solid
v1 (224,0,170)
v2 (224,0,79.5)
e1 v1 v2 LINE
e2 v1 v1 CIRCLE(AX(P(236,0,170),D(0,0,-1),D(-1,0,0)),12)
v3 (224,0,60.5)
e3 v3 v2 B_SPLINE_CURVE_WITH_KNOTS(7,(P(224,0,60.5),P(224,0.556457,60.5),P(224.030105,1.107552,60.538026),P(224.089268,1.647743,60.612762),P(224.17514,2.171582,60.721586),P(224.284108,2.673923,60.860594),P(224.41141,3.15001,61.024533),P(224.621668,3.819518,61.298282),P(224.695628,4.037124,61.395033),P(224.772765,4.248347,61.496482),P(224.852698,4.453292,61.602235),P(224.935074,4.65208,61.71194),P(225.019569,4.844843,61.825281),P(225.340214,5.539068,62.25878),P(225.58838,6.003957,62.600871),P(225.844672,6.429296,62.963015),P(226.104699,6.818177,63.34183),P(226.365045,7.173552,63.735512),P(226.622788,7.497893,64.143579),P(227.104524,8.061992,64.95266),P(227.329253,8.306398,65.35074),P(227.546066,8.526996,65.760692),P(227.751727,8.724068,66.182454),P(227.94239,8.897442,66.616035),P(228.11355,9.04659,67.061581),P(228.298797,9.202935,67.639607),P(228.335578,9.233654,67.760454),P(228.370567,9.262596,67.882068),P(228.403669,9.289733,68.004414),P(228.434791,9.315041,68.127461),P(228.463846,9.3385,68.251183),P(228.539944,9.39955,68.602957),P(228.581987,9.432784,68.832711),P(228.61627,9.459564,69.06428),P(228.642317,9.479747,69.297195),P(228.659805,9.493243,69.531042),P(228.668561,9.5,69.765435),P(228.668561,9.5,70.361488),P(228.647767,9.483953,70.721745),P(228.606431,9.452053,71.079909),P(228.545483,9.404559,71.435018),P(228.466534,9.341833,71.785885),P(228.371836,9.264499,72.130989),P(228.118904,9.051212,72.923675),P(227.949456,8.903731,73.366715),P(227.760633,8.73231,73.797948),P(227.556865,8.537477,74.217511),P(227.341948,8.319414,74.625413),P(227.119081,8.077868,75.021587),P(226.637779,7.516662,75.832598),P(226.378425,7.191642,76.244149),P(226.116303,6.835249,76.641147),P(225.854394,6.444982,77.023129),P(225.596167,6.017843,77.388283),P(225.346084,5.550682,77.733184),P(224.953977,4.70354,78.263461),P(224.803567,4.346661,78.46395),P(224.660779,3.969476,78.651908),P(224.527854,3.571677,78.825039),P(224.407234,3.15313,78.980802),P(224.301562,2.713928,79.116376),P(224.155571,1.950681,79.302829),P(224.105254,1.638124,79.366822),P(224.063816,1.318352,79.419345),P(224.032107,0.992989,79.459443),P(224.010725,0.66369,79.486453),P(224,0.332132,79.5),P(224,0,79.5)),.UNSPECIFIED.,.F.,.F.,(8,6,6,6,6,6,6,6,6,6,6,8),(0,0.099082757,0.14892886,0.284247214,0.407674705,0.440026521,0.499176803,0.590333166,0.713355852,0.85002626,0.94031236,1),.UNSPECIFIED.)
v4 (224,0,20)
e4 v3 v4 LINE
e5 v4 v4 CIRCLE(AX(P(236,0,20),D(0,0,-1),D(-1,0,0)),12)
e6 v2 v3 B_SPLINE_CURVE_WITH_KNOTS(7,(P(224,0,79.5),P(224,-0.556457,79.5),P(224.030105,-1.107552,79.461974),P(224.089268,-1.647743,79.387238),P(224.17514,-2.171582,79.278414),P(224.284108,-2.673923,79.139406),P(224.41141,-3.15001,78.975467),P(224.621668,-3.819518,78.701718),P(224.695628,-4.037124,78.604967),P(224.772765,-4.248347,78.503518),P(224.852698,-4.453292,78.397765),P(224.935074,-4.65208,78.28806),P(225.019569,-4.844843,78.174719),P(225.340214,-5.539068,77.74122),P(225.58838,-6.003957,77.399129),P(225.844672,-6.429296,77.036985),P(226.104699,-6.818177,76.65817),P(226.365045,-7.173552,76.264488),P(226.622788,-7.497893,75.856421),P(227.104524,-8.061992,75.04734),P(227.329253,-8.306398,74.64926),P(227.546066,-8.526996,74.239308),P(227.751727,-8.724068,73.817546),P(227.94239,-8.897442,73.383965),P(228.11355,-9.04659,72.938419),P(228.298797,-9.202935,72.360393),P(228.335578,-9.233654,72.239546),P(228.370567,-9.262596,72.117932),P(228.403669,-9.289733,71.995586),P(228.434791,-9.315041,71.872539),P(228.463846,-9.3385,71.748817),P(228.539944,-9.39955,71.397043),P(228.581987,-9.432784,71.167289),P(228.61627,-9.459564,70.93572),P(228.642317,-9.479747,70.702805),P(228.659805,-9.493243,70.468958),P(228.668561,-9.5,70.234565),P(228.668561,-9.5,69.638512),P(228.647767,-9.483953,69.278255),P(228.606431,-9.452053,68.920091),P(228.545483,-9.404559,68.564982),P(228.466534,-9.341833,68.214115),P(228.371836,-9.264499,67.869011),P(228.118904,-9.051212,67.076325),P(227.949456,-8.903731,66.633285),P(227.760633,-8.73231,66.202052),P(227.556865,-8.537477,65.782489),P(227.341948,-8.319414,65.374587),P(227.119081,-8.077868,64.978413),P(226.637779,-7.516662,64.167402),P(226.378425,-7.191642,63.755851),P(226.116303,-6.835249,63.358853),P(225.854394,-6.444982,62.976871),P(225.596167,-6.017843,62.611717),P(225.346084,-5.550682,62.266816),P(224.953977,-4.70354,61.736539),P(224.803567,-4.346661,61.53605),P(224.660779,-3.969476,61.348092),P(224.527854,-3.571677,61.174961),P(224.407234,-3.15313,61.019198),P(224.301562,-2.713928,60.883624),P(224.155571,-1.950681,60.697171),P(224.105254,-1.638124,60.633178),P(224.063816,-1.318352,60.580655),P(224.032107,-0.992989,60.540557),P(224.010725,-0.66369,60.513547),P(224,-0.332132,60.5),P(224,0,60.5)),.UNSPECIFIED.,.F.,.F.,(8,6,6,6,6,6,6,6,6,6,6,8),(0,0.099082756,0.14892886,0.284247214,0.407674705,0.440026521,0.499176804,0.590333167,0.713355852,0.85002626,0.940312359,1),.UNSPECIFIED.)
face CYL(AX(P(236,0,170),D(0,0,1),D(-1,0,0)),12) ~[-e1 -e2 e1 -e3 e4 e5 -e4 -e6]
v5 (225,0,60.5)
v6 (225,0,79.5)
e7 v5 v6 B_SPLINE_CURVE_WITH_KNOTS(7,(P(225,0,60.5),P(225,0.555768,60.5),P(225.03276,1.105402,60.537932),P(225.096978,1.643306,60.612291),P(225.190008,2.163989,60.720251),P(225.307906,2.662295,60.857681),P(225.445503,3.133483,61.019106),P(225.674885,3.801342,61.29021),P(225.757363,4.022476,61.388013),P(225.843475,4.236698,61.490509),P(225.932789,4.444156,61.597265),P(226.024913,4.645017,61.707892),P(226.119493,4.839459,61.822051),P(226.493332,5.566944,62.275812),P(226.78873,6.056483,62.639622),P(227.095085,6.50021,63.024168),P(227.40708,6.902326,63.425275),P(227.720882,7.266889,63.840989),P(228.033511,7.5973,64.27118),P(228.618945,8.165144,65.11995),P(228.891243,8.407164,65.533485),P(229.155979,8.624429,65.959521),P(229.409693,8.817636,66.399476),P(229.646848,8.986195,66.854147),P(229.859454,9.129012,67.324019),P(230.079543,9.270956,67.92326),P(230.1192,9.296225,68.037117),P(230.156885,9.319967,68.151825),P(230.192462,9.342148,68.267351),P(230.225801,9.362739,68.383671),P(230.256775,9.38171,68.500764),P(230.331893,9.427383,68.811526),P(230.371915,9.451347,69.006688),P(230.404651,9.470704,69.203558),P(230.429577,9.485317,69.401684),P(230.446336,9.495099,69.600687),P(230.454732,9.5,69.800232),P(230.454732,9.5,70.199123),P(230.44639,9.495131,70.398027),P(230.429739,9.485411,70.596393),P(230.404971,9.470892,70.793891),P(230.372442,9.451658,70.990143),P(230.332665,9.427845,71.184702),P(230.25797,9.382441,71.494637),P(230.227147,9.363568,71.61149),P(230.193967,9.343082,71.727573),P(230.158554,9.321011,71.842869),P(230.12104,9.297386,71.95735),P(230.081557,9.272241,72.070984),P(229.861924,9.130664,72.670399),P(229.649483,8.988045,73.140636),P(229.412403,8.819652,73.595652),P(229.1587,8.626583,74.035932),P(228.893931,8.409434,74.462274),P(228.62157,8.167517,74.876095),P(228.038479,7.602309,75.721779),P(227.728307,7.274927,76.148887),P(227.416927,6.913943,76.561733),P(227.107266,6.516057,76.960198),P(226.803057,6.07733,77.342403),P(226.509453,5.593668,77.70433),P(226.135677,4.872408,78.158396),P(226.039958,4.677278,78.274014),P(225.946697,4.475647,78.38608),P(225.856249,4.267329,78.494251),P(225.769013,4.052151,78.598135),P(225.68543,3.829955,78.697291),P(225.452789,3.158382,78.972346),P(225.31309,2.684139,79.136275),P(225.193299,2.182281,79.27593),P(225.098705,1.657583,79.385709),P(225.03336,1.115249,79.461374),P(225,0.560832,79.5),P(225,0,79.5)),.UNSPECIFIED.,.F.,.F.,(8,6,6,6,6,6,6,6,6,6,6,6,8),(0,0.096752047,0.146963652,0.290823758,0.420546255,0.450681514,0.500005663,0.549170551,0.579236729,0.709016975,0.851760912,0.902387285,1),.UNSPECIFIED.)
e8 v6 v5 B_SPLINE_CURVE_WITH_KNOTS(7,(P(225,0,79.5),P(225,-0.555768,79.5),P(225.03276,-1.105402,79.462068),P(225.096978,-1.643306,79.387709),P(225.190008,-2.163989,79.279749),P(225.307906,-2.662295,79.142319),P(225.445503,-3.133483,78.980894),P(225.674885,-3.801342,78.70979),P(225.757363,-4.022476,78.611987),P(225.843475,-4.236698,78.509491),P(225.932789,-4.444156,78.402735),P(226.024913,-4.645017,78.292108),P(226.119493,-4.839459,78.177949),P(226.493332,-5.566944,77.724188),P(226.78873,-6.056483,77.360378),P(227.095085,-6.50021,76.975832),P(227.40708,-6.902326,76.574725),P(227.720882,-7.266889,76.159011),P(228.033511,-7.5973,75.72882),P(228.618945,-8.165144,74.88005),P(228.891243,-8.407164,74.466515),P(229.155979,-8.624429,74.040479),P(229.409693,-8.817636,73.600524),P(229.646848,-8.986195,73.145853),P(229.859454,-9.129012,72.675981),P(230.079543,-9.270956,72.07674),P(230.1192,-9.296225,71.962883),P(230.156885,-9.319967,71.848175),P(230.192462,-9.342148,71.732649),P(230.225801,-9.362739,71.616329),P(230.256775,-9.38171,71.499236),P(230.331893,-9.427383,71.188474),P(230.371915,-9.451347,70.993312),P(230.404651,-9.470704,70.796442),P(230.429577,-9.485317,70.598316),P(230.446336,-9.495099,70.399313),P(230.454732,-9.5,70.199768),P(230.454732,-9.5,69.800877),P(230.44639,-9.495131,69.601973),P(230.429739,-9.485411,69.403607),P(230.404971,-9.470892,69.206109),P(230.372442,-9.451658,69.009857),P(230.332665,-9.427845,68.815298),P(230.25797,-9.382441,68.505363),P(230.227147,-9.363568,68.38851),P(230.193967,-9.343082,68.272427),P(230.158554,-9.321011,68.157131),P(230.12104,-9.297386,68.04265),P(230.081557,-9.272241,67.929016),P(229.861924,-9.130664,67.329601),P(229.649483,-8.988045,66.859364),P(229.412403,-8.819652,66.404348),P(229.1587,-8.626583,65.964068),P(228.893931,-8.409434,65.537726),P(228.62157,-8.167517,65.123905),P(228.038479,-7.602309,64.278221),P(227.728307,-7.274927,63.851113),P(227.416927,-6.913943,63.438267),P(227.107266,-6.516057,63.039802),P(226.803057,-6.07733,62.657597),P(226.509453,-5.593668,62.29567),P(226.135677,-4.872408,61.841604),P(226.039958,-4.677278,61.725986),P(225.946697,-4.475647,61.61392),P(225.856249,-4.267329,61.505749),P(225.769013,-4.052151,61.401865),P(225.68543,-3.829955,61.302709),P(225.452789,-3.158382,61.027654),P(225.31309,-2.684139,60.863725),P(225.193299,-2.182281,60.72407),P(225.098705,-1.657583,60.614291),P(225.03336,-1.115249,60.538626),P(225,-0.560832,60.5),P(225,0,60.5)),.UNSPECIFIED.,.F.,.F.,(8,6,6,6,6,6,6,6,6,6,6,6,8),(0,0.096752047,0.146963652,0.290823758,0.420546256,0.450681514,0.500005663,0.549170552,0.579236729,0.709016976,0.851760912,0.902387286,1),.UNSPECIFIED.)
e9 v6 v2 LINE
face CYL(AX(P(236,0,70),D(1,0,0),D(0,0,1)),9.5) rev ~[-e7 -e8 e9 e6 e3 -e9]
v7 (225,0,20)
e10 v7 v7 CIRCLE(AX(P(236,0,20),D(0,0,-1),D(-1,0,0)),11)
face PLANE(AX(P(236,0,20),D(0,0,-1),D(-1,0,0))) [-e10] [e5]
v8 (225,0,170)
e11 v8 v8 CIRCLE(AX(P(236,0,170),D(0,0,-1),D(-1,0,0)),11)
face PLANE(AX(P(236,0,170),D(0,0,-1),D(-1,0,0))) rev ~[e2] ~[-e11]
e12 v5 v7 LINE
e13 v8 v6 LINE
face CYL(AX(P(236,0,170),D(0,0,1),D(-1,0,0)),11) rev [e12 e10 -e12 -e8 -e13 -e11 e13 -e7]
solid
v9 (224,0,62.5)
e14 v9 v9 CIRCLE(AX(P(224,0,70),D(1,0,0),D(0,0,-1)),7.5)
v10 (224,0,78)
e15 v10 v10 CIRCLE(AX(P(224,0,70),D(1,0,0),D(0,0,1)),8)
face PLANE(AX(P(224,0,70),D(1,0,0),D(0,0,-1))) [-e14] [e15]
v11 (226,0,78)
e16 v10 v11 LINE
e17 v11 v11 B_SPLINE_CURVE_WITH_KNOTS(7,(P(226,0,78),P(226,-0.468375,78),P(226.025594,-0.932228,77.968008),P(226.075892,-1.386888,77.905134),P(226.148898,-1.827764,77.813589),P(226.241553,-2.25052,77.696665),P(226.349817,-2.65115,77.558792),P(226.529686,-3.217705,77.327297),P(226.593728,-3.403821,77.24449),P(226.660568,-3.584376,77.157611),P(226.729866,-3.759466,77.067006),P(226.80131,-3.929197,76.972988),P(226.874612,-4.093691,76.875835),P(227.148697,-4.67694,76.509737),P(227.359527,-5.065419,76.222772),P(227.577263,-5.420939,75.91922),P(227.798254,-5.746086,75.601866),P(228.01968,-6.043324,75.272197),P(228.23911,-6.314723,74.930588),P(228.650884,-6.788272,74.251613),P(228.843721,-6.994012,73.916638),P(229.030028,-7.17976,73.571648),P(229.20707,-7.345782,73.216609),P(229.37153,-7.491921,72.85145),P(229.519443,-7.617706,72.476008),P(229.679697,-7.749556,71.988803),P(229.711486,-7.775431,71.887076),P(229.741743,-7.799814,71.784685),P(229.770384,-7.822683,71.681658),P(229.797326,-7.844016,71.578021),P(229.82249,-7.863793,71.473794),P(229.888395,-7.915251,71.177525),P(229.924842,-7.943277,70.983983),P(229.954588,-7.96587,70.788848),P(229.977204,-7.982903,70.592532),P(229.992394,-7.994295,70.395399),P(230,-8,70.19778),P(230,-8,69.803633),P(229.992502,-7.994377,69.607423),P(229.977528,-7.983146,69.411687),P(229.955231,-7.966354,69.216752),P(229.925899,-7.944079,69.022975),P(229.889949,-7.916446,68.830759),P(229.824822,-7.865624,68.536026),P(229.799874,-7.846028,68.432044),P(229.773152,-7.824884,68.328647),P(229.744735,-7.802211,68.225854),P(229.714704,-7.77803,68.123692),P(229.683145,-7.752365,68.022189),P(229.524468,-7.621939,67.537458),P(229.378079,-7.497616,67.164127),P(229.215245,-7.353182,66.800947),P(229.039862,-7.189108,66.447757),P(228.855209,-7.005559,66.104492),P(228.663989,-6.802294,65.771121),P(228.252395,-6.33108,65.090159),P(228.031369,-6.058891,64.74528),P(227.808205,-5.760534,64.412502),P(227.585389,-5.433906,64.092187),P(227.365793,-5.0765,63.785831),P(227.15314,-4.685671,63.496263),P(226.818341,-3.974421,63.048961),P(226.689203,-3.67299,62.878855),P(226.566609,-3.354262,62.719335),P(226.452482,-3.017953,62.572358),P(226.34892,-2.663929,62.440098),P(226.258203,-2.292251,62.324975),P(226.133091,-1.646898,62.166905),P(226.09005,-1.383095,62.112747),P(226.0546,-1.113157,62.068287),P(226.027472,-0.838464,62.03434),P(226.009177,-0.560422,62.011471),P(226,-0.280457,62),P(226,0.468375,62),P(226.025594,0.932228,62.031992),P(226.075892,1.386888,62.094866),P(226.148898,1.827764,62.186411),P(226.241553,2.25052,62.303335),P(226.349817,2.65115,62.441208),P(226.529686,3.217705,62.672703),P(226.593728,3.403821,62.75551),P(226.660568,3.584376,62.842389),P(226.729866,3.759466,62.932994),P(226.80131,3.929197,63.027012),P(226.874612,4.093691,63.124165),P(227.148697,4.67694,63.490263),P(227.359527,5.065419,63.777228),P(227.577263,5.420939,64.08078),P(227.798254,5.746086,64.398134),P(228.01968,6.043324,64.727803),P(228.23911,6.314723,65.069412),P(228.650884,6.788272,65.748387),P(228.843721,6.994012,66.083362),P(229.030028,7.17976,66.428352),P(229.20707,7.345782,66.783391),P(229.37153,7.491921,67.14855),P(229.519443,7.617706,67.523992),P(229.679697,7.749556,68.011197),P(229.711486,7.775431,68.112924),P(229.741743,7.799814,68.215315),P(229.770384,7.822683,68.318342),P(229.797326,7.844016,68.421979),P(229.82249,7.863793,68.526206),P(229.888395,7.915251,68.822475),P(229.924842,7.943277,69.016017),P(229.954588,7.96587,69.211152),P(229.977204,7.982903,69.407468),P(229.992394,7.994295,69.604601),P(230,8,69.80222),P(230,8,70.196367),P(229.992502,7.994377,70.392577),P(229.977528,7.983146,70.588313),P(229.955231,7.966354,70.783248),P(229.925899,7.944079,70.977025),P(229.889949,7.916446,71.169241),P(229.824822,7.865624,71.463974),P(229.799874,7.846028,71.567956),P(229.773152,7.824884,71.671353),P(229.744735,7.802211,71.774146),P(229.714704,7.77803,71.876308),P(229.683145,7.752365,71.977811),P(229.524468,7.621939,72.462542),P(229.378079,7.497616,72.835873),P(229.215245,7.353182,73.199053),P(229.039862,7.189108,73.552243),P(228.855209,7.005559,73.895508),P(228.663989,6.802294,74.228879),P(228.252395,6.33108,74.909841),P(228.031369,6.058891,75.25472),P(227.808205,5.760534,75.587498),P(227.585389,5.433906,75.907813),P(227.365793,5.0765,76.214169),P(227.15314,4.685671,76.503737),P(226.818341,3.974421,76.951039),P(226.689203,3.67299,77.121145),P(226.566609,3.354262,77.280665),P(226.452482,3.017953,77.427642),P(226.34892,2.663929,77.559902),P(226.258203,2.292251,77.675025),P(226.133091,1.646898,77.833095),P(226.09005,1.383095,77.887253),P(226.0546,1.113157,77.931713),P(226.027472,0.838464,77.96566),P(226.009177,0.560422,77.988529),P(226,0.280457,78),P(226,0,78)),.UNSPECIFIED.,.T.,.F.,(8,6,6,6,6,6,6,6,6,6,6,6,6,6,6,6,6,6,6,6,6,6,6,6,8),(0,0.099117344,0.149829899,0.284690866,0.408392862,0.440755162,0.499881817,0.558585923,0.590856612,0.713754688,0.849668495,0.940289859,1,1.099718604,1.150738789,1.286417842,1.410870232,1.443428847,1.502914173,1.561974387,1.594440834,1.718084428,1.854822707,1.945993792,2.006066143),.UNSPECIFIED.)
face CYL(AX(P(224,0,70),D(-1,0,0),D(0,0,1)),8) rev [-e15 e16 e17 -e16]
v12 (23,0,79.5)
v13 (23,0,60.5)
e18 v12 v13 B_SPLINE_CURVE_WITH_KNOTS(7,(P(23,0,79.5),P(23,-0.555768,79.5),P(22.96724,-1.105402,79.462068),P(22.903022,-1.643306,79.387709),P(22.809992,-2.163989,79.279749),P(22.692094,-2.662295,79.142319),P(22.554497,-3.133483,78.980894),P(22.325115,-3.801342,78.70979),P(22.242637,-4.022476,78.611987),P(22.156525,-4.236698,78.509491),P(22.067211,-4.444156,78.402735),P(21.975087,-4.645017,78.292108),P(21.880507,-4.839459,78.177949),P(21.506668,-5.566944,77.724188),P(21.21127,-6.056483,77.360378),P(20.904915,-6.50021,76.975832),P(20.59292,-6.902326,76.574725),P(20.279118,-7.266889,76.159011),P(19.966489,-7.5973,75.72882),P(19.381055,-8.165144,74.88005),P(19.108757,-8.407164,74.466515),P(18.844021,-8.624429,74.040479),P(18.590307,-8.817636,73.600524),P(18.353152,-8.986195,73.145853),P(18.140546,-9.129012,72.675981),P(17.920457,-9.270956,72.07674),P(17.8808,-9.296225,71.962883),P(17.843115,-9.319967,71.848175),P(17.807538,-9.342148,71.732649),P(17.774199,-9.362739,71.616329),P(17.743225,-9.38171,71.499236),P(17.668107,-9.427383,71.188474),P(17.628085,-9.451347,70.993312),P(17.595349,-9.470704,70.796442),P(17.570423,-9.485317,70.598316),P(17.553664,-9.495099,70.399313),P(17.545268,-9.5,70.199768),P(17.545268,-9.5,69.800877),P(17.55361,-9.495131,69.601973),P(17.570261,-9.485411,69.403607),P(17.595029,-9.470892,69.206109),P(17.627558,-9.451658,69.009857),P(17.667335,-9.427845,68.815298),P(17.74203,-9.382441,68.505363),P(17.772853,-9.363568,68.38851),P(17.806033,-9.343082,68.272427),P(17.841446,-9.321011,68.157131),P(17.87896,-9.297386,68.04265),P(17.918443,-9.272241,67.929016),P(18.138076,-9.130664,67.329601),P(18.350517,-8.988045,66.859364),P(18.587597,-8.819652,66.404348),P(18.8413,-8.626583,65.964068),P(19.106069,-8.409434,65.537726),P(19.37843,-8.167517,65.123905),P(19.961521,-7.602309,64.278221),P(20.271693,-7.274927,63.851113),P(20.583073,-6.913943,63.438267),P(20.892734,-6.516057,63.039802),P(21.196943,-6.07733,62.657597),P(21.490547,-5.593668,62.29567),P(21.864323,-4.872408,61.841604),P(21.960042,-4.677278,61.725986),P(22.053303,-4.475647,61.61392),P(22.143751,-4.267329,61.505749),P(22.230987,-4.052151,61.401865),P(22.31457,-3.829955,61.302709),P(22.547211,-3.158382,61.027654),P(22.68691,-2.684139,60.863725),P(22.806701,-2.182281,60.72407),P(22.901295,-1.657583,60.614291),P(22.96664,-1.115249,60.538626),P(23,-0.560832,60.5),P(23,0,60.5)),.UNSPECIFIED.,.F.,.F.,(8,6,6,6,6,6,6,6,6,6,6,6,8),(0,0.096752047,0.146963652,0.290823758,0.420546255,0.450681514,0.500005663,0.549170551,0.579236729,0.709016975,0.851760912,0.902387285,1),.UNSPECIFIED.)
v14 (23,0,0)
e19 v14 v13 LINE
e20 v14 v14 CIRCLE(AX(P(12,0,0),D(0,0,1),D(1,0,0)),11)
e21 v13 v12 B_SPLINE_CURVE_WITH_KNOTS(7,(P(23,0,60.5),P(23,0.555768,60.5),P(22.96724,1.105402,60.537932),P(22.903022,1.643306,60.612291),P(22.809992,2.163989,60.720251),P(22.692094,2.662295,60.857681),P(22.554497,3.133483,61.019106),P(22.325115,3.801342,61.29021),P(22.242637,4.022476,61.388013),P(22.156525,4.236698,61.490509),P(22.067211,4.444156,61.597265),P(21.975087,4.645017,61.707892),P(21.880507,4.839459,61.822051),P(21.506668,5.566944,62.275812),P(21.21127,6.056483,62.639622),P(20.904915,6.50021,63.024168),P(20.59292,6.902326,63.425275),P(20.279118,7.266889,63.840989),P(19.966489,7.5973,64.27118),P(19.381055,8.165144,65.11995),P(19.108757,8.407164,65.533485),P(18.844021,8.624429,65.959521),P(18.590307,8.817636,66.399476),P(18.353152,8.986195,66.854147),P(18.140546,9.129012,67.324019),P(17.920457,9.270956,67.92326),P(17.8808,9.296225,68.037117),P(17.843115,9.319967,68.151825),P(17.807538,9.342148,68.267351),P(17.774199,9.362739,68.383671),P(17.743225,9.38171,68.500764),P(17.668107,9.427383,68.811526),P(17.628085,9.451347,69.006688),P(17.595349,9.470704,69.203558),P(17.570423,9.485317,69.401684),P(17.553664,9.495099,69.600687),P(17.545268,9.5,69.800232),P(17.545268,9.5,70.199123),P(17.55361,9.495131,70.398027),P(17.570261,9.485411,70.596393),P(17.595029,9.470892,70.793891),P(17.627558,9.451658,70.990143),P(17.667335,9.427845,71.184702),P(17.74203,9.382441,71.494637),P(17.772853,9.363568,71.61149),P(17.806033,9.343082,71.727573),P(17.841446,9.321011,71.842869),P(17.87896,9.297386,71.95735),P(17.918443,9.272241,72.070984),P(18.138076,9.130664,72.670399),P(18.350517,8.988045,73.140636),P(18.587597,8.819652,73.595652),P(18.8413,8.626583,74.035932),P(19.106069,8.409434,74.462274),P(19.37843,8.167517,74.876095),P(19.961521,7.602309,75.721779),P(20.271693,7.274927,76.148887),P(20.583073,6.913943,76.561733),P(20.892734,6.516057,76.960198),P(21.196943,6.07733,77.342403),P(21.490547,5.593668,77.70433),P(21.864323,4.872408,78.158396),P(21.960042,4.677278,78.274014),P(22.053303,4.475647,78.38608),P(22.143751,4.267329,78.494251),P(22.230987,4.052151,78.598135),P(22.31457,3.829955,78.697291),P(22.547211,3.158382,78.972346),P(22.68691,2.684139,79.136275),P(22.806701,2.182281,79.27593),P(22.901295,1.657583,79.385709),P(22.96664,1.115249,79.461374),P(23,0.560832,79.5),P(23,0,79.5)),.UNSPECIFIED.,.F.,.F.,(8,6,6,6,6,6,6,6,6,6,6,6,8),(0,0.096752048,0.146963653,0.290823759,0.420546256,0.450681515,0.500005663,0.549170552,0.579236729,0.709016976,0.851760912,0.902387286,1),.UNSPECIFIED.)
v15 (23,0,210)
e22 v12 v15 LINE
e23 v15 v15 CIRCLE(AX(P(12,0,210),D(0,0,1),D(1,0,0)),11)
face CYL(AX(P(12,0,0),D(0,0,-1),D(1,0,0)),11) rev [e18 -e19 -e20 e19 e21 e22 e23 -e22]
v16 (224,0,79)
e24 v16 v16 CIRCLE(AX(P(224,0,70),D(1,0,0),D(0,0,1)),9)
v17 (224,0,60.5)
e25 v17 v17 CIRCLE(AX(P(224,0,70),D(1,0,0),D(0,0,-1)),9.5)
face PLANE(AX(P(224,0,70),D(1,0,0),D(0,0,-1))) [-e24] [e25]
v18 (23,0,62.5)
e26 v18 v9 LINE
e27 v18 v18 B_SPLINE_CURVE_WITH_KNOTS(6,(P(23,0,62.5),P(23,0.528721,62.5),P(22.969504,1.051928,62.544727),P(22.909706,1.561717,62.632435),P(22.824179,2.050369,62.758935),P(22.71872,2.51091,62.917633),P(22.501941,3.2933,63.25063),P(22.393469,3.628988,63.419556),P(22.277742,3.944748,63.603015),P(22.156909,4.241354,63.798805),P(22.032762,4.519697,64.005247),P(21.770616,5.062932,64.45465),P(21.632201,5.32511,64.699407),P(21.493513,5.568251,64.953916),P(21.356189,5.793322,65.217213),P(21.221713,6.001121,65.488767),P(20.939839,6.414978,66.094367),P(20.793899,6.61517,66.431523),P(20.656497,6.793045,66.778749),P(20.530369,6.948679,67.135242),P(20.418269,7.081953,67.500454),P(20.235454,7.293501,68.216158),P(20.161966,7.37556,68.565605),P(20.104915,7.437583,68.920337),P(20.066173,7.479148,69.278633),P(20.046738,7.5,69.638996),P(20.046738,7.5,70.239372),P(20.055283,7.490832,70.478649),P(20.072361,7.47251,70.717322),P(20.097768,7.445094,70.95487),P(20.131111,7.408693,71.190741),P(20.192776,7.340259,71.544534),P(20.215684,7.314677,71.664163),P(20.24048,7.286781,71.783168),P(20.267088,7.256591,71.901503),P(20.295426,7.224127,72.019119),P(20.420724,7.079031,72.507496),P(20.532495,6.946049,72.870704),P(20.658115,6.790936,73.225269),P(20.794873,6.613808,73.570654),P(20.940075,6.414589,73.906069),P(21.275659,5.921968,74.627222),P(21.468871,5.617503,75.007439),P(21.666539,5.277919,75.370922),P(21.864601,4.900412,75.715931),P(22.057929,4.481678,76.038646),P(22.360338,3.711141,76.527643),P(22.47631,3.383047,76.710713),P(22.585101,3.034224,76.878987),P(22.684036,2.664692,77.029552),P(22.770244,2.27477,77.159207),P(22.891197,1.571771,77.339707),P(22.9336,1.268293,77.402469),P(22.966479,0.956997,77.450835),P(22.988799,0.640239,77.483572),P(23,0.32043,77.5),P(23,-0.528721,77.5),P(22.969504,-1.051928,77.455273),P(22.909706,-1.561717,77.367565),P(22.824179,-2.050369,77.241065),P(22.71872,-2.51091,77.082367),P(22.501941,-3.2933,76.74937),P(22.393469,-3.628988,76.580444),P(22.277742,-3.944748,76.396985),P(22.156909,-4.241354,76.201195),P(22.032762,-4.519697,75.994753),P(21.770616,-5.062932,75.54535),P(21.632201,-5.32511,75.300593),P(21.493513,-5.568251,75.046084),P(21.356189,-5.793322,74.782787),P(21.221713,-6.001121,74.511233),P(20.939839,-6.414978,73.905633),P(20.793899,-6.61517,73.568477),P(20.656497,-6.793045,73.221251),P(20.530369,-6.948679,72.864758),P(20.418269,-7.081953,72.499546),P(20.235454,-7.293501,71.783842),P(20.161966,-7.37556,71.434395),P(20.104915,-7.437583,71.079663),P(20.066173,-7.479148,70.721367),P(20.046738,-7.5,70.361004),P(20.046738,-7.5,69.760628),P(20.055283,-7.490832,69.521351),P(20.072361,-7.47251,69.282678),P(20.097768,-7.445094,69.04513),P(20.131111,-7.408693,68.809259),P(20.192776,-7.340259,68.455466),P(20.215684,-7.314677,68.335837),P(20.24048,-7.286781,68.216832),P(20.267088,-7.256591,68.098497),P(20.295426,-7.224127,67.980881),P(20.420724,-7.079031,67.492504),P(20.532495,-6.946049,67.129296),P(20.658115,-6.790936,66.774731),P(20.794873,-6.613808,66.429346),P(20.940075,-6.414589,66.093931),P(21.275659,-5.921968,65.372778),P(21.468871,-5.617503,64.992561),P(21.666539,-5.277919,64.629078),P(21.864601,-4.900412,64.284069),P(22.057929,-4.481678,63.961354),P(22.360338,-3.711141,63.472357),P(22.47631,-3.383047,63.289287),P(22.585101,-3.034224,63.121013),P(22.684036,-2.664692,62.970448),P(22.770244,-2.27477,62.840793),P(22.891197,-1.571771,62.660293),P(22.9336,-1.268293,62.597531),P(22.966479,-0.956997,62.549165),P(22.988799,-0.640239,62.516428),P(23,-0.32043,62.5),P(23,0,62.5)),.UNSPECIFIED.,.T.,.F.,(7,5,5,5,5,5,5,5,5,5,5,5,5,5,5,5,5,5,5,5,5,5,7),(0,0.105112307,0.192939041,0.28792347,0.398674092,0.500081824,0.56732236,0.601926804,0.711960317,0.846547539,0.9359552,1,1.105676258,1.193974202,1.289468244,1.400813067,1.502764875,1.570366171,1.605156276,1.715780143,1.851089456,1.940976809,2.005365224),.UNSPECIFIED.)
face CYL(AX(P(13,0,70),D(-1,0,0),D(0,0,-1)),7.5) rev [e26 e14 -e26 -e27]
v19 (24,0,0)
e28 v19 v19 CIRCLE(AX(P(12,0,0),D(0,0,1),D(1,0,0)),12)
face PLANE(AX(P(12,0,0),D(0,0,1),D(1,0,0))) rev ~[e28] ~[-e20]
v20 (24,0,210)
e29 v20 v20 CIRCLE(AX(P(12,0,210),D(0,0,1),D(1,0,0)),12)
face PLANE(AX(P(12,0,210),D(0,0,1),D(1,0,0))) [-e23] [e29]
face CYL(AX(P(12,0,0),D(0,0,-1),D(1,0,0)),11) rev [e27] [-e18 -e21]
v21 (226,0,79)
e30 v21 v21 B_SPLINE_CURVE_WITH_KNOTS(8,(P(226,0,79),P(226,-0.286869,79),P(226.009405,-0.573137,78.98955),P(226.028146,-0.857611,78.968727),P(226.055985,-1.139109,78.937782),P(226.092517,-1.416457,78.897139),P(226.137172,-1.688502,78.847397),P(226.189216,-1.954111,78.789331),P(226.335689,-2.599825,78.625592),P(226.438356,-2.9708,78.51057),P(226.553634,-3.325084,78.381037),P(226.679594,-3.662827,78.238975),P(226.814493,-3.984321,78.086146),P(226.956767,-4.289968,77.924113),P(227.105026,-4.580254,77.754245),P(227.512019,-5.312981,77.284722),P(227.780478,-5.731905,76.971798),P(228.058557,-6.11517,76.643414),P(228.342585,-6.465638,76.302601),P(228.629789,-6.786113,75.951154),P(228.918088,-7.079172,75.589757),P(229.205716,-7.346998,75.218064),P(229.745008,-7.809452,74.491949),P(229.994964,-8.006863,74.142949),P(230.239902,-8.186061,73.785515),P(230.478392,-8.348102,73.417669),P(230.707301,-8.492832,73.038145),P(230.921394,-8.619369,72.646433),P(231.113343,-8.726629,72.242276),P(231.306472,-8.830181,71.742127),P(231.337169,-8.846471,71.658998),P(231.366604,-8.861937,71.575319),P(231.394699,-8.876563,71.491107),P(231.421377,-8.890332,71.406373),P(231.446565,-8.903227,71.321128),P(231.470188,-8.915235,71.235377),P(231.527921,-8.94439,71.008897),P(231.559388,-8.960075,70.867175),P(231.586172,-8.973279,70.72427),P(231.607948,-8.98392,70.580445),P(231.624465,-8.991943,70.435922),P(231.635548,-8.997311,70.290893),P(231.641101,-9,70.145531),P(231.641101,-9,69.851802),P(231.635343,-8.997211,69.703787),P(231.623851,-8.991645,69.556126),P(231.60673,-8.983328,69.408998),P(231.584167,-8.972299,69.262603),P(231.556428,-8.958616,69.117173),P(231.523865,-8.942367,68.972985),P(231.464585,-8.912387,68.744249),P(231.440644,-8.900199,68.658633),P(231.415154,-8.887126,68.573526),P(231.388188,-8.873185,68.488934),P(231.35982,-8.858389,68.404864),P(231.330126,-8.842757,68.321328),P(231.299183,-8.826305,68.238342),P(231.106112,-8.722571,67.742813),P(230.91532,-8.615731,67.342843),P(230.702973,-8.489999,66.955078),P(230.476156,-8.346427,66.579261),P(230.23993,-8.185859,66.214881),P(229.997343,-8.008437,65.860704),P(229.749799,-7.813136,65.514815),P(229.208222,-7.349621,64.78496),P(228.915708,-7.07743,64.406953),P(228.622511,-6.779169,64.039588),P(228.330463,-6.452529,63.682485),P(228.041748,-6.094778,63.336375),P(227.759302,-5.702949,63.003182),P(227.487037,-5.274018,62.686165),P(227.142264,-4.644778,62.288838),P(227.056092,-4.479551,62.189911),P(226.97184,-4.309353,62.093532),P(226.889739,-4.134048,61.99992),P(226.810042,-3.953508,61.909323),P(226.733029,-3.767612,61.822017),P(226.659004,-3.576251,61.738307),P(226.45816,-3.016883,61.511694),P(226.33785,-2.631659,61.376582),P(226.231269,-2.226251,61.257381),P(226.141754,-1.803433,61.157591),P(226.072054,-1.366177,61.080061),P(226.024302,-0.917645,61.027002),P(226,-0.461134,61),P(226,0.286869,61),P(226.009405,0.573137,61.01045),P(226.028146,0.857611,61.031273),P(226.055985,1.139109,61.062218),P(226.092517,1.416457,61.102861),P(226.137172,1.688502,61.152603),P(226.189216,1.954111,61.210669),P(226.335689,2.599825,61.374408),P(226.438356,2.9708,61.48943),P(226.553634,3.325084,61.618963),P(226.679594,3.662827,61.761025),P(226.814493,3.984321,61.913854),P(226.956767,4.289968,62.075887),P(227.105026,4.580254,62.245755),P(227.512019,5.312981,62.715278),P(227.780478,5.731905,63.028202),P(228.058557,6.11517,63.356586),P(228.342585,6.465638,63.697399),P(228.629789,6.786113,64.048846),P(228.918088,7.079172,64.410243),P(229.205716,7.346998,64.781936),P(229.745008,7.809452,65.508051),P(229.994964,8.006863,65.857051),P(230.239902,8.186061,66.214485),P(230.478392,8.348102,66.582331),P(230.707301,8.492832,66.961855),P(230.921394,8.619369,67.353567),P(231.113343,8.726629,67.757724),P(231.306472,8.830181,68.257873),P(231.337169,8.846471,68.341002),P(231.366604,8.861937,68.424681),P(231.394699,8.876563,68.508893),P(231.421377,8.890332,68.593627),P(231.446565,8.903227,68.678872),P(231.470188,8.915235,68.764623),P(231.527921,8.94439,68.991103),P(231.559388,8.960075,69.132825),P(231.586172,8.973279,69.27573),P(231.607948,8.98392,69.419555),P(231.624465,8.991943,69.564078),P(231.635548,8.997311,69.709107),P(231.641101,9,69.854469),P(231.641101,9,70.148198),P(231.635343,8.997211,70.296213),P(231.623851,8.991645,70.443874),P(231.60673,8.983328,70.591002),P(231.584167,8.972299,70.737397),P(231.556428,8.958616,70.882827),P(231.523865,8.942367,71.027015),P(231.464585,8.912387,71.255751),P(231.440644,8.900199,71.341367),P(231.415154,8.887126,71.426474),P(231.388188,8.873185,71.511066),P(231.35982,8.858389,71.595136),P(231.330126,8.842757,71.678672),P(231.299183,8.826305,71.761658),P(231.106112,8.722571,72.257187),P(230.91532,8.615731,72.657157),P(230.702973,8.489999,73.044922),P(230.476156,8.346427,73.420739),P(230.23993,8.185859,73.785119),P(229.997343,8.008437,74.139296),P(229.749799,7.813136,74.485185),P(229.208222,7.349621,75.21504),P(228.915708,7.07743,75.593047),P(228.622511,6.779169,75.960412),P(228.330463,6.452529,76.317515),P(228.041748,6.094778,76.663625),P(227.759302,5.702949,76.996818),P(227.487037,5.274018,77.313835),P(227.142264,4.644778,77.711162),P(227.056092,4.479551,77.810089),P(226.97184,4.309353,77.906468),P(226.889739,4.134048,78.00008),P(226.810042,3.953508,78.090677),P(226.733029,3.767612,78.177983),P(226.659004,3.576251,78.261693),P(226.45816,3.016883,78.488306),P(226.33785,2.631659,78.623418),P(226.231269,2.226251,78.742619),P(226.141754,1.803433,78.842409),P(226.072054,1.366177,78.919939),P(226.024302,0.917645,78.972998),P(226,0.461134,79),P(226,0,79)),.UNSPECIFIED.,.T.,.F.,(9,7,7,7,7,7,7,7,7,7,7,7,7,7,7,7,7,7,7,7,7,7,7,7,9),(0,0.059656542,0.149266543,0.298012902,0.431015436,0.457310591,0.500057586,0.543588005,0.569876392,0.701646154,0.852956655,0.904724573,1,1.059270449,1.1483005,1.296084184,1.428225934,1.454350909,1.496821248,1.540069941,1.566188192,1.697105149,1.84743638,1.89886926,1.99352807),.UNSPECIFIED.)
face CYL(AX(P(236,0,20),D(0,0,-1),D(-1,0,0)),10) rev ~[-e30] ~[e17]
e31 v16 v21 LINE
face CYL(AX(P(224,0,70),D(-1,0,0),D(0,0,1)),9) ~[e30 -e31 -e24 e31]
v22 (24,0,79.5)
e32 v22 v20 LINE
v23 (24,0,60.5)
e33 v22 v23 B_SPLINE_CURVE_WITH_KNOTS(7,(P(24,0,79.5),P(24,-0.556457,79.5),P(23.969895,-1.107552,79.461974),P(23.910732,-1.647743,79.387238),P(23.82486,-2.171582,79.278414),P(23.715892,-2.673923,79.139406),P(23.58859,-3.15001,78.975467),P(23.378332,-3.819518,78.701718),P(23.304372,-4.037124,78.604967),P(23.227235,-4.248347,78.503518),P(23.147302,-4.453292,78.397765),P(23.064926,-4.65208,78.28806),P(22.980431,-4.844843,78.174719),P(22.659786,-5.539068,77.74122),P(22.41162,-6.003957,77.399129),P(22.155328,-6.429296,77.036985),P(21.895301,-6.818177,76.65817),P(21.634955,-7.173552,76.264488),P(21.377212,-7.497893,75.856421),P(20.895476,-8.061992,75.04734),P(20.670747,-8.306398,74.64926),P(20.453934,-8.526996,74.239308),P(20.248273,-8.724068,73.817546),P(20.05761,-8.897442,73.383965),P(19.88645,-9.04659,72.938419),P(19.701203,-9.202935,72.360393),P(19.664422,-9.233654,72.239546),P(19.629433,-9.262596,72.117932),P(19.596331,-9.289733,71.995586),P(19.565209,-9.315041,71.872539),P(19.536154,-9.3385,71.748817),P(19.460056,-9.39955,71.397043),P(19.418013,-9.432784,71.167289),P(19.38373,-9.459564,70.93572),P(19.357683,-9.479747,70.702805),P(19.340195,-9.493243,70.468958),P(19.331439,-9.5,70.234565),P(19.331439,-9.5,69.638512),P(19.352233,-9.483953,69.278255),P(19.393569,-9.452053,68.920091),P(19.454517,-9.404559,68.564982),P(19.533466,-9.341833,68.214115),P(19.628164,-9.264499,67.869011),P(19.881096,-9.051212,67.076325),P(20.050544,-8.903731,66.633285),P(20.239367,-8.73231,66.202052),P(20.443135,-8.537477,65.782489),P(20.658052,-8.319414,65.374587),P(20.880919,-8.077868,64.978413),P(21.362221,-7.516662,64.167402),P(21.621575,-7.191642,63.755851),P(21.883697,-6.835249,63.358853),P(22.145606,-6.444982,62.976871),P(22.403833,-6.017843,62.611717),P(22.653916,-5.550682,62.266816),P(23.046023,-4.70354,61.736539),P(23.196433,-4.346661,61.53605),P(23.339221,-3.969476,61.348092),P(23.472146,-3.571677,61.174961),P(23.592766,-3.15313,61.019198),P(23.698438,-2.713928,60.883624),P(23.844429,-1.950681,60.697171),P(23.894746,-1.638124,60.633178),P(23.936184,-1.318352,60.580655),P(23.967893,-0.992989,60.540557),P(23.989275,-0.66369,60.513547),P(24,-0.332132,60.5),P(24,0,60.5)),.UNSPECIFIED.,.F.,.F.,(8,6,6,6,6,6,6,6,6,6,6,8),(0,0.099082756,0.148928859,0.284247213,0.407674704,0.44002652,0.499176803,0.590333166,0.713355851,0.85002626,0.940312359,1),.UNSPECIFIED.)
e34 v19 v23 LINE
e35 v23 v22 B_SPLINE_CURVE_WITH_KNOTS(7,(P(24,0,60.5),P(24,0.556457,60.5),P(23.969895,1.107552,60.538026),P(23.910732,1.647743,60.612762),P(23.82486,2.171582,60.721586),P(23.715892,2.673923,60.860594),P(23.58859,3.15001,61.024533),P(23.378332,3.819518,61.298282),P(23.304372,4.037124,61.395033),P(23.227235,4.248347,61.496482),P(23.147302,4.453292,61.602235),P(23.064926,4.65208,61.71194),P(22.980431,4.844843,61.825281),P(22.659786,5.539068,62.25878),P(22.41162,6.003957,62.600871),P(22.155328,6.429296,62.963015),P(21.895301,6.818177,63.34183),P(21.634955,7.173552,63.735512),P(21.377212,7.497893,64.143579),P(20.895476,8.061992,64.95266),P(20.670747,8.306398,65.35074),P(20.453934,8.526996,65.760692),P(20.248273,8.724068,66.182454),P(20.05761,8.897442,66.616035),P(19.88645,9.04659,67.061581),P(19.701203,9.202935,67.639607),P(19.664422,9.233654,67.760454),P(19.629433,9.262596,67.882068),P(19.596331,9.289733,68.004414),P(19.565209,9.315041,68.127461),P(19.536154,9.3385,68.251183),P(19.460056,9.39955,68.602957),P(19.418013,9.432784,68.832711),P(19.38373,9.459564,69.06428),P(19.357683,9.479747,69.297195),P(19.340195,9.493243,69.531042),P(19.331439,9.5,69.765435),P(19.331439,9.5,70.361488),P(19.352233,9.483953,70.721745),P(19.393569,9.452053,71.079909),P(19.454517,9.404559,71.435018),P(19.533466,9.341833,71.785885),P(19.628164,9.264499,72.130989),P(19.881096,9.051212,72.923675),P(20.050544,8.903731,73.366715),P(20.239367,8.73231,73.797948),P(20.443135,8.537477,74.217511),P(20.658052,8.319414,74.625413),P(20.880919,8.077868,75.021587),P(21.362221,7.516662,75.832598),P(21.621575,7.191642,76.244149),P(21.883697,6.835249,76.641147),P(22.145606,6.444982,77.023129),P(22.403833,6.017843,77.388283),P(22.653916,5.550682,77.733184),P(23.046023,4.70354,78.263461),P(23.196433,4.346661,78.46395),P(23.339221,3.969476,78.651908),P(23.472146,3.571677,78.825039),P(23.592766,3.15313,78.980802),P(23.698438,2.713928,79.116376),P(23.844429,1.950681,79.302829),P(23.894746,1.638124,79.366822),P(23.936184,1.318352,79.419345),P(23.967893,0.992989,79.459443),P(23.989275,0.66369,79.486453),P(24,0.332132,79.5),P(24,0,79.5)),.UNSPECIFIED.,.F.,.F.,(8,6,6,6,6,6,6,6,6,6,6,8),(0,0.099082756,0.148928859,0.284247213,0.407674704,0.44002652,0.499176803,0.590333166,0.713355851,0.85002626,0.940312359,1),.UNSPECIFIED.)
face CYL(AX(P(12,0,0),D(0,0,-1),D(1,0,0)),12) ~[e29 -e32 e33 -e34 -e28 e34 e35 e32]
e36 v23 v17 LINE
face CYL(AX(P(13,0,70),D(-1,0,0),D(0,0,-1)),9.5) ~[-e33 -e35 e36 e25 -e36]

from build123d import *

# Parameters (mm, degrees)
SKETCH_1_R           = 12
SKETCH_1_R_2         = 11
EXTRUDE_1_DEPTH      = 210
SKETCH_2_R           = 9.5
CUT_EXTRUDE_1_DEPTH  = 12
EXTRUDE_2_DEPTH      = 200
EXTRUDE_2_DEPTH_BACK = 11
SKETCH_2_3_R         = 9.5
SKETCH_2_3_R_2       = 7.5
SKETCH_1_2_R         = 11
CUT_EXTRUDE_2_DEPTH  = 250
EXTRUDE_3_DEPTH      = 50
EXTRUDE_3_DEPTH_BACK = 100
SKETCH_5_R           = 12
SKETCH_5_R_2         = 11
CUT_EXTRUDE_START    = 12
SKETCH_6_R           = 9.5
CUT_EXTRUDE_3_DEPTH  = 12
SKETCH_8_R           = 9
SKETCH_8_R_2         = 8
EXTRUDE_4_DEPTH      = 12
SKETCH_9_R           = 10
CUT_EXTRUDE_4_DEPTH  = 97


with BuildPart() as part:
    # 草图1 → 凸台-拉伸1 (new body)
    with BuildSketch(Plane.XY):
        with Locations((12, 0)):
            Circle(SKETCH_1_R)
        with Locations((12, 0)):
            Circle(SKETCH_1_R_2, mode=Mode.SUBTRACT)
    extrude(amount=EXTRUDE_1_DEPTH)

    # 草图2 → 切除-拉伸1 (cut)
    with BuildSketch(Plane(origin=(24, 0, 0), x_dir=(0, 0, -1), z_dir=(1, 0, 0))):
        with Locations((-70, 0)):
            Circle(SKETCH_2_R)
    extrude(amount=-CUT_EXTRUDE_1_DEPTH, mode=Mode.SUBTRACT)

    # 草图2<3> → 凸台-拉伸2 (add, two sides: drawn at the far end of the back side and taken through both)
    with BuildSketch(Plane(origin=(24, 0, 0), x_dir=(0, 0, -1), z_dir=(1, 0, 0)).offset(-EXTRUDE_2_DEPTH_BACK)):
        with Locations((-70, 0)):
            Circle(SKETCH_2_3_R)
        with Locations((-70, 0)):
            Circle(SKETCH_2_3_R_2, mode=Mode.SUBTRACT)
    extrude(amount=EXTRUDE_2_DEPTH + EXTRUDE_2_DEPTH_BACK)

    # 草图1<2> → 切除-拉伸2 (cut)
    with BuildSketch(Plane.XY):
        with Locations((12, 0)):
            Circle(SKETCH_1_2_R)
    extrude(amount=CUT_EXTRUDE_2_DEPTH, mode=Mode.SUBTRACT)

    # 草图8 → 凸台-拉伸4 (add)
    with BuildSketch(Plane(origin=(224, 0, 0), x_dir=(0, 0, -1), z_dir=(1, 0, 0))):
        with Locations((-70, 0)):
            Circle(SKETCH_8_R)
        with Locations((-70, 0)):
            Circle(SKETCH_8_R_2, mode=Mode.SUBTRACT)
    extrude(amount=EXTRUDE_4_DEPTH)

    # 草图9 → 切除-拉伸4 (cut)
    with BuildSketch(Plane(origin=(0, 0, 20), x_dir=(-1, 0, 0), z_dir=(0, 0, -1))):
        with Locations((-236, 0)):
            Circle(SKETCH_9_R)
    extrude(amount=-CUT_EXTRUDE_4_DEPTH, mode=Mode.SUBTRACT)


with BuildPart() as body_2:
    # 草图5 → 凸台-拉伸3 (new, two sides: drawn at the far end of the back side and taken through both)
    with BuildSketch(Plane(origin=(0, 0, 70), x_dir=(-1, 0, 0), z_dir=(0, 0, -1)).offset(-EXTRUDE_3_DEPTH_BACK)):
        with Locations((-236, 0)):
            Circle(SKETCH_5_R)
        with Locations((-236, 0)):
            Circle(SKETCH_5_R_2, mode=Mode.SUBTRACT)
    extrude(amount=EXTRUDE_3_DEPTH + EXTRUDE_3_DEPTH_BACK)

    # 草图6 → 切除-拉伸3 (cut)
    with BuildSketch(Plane(origin=(224, 0, 0), x_dir=(0, 0, -1), z_dir=(1, 0, 0)).offset(CUT_EXTRUDE_START)):
        with Locations((-70, 0)):
            Circle(SKETCH_6_R)
    extrude(amount=-CUT_EXTRUDE_3_DEPTH, mode=Mode.SUBTRACT)


solid = Compound([part.part, body_2.part])
